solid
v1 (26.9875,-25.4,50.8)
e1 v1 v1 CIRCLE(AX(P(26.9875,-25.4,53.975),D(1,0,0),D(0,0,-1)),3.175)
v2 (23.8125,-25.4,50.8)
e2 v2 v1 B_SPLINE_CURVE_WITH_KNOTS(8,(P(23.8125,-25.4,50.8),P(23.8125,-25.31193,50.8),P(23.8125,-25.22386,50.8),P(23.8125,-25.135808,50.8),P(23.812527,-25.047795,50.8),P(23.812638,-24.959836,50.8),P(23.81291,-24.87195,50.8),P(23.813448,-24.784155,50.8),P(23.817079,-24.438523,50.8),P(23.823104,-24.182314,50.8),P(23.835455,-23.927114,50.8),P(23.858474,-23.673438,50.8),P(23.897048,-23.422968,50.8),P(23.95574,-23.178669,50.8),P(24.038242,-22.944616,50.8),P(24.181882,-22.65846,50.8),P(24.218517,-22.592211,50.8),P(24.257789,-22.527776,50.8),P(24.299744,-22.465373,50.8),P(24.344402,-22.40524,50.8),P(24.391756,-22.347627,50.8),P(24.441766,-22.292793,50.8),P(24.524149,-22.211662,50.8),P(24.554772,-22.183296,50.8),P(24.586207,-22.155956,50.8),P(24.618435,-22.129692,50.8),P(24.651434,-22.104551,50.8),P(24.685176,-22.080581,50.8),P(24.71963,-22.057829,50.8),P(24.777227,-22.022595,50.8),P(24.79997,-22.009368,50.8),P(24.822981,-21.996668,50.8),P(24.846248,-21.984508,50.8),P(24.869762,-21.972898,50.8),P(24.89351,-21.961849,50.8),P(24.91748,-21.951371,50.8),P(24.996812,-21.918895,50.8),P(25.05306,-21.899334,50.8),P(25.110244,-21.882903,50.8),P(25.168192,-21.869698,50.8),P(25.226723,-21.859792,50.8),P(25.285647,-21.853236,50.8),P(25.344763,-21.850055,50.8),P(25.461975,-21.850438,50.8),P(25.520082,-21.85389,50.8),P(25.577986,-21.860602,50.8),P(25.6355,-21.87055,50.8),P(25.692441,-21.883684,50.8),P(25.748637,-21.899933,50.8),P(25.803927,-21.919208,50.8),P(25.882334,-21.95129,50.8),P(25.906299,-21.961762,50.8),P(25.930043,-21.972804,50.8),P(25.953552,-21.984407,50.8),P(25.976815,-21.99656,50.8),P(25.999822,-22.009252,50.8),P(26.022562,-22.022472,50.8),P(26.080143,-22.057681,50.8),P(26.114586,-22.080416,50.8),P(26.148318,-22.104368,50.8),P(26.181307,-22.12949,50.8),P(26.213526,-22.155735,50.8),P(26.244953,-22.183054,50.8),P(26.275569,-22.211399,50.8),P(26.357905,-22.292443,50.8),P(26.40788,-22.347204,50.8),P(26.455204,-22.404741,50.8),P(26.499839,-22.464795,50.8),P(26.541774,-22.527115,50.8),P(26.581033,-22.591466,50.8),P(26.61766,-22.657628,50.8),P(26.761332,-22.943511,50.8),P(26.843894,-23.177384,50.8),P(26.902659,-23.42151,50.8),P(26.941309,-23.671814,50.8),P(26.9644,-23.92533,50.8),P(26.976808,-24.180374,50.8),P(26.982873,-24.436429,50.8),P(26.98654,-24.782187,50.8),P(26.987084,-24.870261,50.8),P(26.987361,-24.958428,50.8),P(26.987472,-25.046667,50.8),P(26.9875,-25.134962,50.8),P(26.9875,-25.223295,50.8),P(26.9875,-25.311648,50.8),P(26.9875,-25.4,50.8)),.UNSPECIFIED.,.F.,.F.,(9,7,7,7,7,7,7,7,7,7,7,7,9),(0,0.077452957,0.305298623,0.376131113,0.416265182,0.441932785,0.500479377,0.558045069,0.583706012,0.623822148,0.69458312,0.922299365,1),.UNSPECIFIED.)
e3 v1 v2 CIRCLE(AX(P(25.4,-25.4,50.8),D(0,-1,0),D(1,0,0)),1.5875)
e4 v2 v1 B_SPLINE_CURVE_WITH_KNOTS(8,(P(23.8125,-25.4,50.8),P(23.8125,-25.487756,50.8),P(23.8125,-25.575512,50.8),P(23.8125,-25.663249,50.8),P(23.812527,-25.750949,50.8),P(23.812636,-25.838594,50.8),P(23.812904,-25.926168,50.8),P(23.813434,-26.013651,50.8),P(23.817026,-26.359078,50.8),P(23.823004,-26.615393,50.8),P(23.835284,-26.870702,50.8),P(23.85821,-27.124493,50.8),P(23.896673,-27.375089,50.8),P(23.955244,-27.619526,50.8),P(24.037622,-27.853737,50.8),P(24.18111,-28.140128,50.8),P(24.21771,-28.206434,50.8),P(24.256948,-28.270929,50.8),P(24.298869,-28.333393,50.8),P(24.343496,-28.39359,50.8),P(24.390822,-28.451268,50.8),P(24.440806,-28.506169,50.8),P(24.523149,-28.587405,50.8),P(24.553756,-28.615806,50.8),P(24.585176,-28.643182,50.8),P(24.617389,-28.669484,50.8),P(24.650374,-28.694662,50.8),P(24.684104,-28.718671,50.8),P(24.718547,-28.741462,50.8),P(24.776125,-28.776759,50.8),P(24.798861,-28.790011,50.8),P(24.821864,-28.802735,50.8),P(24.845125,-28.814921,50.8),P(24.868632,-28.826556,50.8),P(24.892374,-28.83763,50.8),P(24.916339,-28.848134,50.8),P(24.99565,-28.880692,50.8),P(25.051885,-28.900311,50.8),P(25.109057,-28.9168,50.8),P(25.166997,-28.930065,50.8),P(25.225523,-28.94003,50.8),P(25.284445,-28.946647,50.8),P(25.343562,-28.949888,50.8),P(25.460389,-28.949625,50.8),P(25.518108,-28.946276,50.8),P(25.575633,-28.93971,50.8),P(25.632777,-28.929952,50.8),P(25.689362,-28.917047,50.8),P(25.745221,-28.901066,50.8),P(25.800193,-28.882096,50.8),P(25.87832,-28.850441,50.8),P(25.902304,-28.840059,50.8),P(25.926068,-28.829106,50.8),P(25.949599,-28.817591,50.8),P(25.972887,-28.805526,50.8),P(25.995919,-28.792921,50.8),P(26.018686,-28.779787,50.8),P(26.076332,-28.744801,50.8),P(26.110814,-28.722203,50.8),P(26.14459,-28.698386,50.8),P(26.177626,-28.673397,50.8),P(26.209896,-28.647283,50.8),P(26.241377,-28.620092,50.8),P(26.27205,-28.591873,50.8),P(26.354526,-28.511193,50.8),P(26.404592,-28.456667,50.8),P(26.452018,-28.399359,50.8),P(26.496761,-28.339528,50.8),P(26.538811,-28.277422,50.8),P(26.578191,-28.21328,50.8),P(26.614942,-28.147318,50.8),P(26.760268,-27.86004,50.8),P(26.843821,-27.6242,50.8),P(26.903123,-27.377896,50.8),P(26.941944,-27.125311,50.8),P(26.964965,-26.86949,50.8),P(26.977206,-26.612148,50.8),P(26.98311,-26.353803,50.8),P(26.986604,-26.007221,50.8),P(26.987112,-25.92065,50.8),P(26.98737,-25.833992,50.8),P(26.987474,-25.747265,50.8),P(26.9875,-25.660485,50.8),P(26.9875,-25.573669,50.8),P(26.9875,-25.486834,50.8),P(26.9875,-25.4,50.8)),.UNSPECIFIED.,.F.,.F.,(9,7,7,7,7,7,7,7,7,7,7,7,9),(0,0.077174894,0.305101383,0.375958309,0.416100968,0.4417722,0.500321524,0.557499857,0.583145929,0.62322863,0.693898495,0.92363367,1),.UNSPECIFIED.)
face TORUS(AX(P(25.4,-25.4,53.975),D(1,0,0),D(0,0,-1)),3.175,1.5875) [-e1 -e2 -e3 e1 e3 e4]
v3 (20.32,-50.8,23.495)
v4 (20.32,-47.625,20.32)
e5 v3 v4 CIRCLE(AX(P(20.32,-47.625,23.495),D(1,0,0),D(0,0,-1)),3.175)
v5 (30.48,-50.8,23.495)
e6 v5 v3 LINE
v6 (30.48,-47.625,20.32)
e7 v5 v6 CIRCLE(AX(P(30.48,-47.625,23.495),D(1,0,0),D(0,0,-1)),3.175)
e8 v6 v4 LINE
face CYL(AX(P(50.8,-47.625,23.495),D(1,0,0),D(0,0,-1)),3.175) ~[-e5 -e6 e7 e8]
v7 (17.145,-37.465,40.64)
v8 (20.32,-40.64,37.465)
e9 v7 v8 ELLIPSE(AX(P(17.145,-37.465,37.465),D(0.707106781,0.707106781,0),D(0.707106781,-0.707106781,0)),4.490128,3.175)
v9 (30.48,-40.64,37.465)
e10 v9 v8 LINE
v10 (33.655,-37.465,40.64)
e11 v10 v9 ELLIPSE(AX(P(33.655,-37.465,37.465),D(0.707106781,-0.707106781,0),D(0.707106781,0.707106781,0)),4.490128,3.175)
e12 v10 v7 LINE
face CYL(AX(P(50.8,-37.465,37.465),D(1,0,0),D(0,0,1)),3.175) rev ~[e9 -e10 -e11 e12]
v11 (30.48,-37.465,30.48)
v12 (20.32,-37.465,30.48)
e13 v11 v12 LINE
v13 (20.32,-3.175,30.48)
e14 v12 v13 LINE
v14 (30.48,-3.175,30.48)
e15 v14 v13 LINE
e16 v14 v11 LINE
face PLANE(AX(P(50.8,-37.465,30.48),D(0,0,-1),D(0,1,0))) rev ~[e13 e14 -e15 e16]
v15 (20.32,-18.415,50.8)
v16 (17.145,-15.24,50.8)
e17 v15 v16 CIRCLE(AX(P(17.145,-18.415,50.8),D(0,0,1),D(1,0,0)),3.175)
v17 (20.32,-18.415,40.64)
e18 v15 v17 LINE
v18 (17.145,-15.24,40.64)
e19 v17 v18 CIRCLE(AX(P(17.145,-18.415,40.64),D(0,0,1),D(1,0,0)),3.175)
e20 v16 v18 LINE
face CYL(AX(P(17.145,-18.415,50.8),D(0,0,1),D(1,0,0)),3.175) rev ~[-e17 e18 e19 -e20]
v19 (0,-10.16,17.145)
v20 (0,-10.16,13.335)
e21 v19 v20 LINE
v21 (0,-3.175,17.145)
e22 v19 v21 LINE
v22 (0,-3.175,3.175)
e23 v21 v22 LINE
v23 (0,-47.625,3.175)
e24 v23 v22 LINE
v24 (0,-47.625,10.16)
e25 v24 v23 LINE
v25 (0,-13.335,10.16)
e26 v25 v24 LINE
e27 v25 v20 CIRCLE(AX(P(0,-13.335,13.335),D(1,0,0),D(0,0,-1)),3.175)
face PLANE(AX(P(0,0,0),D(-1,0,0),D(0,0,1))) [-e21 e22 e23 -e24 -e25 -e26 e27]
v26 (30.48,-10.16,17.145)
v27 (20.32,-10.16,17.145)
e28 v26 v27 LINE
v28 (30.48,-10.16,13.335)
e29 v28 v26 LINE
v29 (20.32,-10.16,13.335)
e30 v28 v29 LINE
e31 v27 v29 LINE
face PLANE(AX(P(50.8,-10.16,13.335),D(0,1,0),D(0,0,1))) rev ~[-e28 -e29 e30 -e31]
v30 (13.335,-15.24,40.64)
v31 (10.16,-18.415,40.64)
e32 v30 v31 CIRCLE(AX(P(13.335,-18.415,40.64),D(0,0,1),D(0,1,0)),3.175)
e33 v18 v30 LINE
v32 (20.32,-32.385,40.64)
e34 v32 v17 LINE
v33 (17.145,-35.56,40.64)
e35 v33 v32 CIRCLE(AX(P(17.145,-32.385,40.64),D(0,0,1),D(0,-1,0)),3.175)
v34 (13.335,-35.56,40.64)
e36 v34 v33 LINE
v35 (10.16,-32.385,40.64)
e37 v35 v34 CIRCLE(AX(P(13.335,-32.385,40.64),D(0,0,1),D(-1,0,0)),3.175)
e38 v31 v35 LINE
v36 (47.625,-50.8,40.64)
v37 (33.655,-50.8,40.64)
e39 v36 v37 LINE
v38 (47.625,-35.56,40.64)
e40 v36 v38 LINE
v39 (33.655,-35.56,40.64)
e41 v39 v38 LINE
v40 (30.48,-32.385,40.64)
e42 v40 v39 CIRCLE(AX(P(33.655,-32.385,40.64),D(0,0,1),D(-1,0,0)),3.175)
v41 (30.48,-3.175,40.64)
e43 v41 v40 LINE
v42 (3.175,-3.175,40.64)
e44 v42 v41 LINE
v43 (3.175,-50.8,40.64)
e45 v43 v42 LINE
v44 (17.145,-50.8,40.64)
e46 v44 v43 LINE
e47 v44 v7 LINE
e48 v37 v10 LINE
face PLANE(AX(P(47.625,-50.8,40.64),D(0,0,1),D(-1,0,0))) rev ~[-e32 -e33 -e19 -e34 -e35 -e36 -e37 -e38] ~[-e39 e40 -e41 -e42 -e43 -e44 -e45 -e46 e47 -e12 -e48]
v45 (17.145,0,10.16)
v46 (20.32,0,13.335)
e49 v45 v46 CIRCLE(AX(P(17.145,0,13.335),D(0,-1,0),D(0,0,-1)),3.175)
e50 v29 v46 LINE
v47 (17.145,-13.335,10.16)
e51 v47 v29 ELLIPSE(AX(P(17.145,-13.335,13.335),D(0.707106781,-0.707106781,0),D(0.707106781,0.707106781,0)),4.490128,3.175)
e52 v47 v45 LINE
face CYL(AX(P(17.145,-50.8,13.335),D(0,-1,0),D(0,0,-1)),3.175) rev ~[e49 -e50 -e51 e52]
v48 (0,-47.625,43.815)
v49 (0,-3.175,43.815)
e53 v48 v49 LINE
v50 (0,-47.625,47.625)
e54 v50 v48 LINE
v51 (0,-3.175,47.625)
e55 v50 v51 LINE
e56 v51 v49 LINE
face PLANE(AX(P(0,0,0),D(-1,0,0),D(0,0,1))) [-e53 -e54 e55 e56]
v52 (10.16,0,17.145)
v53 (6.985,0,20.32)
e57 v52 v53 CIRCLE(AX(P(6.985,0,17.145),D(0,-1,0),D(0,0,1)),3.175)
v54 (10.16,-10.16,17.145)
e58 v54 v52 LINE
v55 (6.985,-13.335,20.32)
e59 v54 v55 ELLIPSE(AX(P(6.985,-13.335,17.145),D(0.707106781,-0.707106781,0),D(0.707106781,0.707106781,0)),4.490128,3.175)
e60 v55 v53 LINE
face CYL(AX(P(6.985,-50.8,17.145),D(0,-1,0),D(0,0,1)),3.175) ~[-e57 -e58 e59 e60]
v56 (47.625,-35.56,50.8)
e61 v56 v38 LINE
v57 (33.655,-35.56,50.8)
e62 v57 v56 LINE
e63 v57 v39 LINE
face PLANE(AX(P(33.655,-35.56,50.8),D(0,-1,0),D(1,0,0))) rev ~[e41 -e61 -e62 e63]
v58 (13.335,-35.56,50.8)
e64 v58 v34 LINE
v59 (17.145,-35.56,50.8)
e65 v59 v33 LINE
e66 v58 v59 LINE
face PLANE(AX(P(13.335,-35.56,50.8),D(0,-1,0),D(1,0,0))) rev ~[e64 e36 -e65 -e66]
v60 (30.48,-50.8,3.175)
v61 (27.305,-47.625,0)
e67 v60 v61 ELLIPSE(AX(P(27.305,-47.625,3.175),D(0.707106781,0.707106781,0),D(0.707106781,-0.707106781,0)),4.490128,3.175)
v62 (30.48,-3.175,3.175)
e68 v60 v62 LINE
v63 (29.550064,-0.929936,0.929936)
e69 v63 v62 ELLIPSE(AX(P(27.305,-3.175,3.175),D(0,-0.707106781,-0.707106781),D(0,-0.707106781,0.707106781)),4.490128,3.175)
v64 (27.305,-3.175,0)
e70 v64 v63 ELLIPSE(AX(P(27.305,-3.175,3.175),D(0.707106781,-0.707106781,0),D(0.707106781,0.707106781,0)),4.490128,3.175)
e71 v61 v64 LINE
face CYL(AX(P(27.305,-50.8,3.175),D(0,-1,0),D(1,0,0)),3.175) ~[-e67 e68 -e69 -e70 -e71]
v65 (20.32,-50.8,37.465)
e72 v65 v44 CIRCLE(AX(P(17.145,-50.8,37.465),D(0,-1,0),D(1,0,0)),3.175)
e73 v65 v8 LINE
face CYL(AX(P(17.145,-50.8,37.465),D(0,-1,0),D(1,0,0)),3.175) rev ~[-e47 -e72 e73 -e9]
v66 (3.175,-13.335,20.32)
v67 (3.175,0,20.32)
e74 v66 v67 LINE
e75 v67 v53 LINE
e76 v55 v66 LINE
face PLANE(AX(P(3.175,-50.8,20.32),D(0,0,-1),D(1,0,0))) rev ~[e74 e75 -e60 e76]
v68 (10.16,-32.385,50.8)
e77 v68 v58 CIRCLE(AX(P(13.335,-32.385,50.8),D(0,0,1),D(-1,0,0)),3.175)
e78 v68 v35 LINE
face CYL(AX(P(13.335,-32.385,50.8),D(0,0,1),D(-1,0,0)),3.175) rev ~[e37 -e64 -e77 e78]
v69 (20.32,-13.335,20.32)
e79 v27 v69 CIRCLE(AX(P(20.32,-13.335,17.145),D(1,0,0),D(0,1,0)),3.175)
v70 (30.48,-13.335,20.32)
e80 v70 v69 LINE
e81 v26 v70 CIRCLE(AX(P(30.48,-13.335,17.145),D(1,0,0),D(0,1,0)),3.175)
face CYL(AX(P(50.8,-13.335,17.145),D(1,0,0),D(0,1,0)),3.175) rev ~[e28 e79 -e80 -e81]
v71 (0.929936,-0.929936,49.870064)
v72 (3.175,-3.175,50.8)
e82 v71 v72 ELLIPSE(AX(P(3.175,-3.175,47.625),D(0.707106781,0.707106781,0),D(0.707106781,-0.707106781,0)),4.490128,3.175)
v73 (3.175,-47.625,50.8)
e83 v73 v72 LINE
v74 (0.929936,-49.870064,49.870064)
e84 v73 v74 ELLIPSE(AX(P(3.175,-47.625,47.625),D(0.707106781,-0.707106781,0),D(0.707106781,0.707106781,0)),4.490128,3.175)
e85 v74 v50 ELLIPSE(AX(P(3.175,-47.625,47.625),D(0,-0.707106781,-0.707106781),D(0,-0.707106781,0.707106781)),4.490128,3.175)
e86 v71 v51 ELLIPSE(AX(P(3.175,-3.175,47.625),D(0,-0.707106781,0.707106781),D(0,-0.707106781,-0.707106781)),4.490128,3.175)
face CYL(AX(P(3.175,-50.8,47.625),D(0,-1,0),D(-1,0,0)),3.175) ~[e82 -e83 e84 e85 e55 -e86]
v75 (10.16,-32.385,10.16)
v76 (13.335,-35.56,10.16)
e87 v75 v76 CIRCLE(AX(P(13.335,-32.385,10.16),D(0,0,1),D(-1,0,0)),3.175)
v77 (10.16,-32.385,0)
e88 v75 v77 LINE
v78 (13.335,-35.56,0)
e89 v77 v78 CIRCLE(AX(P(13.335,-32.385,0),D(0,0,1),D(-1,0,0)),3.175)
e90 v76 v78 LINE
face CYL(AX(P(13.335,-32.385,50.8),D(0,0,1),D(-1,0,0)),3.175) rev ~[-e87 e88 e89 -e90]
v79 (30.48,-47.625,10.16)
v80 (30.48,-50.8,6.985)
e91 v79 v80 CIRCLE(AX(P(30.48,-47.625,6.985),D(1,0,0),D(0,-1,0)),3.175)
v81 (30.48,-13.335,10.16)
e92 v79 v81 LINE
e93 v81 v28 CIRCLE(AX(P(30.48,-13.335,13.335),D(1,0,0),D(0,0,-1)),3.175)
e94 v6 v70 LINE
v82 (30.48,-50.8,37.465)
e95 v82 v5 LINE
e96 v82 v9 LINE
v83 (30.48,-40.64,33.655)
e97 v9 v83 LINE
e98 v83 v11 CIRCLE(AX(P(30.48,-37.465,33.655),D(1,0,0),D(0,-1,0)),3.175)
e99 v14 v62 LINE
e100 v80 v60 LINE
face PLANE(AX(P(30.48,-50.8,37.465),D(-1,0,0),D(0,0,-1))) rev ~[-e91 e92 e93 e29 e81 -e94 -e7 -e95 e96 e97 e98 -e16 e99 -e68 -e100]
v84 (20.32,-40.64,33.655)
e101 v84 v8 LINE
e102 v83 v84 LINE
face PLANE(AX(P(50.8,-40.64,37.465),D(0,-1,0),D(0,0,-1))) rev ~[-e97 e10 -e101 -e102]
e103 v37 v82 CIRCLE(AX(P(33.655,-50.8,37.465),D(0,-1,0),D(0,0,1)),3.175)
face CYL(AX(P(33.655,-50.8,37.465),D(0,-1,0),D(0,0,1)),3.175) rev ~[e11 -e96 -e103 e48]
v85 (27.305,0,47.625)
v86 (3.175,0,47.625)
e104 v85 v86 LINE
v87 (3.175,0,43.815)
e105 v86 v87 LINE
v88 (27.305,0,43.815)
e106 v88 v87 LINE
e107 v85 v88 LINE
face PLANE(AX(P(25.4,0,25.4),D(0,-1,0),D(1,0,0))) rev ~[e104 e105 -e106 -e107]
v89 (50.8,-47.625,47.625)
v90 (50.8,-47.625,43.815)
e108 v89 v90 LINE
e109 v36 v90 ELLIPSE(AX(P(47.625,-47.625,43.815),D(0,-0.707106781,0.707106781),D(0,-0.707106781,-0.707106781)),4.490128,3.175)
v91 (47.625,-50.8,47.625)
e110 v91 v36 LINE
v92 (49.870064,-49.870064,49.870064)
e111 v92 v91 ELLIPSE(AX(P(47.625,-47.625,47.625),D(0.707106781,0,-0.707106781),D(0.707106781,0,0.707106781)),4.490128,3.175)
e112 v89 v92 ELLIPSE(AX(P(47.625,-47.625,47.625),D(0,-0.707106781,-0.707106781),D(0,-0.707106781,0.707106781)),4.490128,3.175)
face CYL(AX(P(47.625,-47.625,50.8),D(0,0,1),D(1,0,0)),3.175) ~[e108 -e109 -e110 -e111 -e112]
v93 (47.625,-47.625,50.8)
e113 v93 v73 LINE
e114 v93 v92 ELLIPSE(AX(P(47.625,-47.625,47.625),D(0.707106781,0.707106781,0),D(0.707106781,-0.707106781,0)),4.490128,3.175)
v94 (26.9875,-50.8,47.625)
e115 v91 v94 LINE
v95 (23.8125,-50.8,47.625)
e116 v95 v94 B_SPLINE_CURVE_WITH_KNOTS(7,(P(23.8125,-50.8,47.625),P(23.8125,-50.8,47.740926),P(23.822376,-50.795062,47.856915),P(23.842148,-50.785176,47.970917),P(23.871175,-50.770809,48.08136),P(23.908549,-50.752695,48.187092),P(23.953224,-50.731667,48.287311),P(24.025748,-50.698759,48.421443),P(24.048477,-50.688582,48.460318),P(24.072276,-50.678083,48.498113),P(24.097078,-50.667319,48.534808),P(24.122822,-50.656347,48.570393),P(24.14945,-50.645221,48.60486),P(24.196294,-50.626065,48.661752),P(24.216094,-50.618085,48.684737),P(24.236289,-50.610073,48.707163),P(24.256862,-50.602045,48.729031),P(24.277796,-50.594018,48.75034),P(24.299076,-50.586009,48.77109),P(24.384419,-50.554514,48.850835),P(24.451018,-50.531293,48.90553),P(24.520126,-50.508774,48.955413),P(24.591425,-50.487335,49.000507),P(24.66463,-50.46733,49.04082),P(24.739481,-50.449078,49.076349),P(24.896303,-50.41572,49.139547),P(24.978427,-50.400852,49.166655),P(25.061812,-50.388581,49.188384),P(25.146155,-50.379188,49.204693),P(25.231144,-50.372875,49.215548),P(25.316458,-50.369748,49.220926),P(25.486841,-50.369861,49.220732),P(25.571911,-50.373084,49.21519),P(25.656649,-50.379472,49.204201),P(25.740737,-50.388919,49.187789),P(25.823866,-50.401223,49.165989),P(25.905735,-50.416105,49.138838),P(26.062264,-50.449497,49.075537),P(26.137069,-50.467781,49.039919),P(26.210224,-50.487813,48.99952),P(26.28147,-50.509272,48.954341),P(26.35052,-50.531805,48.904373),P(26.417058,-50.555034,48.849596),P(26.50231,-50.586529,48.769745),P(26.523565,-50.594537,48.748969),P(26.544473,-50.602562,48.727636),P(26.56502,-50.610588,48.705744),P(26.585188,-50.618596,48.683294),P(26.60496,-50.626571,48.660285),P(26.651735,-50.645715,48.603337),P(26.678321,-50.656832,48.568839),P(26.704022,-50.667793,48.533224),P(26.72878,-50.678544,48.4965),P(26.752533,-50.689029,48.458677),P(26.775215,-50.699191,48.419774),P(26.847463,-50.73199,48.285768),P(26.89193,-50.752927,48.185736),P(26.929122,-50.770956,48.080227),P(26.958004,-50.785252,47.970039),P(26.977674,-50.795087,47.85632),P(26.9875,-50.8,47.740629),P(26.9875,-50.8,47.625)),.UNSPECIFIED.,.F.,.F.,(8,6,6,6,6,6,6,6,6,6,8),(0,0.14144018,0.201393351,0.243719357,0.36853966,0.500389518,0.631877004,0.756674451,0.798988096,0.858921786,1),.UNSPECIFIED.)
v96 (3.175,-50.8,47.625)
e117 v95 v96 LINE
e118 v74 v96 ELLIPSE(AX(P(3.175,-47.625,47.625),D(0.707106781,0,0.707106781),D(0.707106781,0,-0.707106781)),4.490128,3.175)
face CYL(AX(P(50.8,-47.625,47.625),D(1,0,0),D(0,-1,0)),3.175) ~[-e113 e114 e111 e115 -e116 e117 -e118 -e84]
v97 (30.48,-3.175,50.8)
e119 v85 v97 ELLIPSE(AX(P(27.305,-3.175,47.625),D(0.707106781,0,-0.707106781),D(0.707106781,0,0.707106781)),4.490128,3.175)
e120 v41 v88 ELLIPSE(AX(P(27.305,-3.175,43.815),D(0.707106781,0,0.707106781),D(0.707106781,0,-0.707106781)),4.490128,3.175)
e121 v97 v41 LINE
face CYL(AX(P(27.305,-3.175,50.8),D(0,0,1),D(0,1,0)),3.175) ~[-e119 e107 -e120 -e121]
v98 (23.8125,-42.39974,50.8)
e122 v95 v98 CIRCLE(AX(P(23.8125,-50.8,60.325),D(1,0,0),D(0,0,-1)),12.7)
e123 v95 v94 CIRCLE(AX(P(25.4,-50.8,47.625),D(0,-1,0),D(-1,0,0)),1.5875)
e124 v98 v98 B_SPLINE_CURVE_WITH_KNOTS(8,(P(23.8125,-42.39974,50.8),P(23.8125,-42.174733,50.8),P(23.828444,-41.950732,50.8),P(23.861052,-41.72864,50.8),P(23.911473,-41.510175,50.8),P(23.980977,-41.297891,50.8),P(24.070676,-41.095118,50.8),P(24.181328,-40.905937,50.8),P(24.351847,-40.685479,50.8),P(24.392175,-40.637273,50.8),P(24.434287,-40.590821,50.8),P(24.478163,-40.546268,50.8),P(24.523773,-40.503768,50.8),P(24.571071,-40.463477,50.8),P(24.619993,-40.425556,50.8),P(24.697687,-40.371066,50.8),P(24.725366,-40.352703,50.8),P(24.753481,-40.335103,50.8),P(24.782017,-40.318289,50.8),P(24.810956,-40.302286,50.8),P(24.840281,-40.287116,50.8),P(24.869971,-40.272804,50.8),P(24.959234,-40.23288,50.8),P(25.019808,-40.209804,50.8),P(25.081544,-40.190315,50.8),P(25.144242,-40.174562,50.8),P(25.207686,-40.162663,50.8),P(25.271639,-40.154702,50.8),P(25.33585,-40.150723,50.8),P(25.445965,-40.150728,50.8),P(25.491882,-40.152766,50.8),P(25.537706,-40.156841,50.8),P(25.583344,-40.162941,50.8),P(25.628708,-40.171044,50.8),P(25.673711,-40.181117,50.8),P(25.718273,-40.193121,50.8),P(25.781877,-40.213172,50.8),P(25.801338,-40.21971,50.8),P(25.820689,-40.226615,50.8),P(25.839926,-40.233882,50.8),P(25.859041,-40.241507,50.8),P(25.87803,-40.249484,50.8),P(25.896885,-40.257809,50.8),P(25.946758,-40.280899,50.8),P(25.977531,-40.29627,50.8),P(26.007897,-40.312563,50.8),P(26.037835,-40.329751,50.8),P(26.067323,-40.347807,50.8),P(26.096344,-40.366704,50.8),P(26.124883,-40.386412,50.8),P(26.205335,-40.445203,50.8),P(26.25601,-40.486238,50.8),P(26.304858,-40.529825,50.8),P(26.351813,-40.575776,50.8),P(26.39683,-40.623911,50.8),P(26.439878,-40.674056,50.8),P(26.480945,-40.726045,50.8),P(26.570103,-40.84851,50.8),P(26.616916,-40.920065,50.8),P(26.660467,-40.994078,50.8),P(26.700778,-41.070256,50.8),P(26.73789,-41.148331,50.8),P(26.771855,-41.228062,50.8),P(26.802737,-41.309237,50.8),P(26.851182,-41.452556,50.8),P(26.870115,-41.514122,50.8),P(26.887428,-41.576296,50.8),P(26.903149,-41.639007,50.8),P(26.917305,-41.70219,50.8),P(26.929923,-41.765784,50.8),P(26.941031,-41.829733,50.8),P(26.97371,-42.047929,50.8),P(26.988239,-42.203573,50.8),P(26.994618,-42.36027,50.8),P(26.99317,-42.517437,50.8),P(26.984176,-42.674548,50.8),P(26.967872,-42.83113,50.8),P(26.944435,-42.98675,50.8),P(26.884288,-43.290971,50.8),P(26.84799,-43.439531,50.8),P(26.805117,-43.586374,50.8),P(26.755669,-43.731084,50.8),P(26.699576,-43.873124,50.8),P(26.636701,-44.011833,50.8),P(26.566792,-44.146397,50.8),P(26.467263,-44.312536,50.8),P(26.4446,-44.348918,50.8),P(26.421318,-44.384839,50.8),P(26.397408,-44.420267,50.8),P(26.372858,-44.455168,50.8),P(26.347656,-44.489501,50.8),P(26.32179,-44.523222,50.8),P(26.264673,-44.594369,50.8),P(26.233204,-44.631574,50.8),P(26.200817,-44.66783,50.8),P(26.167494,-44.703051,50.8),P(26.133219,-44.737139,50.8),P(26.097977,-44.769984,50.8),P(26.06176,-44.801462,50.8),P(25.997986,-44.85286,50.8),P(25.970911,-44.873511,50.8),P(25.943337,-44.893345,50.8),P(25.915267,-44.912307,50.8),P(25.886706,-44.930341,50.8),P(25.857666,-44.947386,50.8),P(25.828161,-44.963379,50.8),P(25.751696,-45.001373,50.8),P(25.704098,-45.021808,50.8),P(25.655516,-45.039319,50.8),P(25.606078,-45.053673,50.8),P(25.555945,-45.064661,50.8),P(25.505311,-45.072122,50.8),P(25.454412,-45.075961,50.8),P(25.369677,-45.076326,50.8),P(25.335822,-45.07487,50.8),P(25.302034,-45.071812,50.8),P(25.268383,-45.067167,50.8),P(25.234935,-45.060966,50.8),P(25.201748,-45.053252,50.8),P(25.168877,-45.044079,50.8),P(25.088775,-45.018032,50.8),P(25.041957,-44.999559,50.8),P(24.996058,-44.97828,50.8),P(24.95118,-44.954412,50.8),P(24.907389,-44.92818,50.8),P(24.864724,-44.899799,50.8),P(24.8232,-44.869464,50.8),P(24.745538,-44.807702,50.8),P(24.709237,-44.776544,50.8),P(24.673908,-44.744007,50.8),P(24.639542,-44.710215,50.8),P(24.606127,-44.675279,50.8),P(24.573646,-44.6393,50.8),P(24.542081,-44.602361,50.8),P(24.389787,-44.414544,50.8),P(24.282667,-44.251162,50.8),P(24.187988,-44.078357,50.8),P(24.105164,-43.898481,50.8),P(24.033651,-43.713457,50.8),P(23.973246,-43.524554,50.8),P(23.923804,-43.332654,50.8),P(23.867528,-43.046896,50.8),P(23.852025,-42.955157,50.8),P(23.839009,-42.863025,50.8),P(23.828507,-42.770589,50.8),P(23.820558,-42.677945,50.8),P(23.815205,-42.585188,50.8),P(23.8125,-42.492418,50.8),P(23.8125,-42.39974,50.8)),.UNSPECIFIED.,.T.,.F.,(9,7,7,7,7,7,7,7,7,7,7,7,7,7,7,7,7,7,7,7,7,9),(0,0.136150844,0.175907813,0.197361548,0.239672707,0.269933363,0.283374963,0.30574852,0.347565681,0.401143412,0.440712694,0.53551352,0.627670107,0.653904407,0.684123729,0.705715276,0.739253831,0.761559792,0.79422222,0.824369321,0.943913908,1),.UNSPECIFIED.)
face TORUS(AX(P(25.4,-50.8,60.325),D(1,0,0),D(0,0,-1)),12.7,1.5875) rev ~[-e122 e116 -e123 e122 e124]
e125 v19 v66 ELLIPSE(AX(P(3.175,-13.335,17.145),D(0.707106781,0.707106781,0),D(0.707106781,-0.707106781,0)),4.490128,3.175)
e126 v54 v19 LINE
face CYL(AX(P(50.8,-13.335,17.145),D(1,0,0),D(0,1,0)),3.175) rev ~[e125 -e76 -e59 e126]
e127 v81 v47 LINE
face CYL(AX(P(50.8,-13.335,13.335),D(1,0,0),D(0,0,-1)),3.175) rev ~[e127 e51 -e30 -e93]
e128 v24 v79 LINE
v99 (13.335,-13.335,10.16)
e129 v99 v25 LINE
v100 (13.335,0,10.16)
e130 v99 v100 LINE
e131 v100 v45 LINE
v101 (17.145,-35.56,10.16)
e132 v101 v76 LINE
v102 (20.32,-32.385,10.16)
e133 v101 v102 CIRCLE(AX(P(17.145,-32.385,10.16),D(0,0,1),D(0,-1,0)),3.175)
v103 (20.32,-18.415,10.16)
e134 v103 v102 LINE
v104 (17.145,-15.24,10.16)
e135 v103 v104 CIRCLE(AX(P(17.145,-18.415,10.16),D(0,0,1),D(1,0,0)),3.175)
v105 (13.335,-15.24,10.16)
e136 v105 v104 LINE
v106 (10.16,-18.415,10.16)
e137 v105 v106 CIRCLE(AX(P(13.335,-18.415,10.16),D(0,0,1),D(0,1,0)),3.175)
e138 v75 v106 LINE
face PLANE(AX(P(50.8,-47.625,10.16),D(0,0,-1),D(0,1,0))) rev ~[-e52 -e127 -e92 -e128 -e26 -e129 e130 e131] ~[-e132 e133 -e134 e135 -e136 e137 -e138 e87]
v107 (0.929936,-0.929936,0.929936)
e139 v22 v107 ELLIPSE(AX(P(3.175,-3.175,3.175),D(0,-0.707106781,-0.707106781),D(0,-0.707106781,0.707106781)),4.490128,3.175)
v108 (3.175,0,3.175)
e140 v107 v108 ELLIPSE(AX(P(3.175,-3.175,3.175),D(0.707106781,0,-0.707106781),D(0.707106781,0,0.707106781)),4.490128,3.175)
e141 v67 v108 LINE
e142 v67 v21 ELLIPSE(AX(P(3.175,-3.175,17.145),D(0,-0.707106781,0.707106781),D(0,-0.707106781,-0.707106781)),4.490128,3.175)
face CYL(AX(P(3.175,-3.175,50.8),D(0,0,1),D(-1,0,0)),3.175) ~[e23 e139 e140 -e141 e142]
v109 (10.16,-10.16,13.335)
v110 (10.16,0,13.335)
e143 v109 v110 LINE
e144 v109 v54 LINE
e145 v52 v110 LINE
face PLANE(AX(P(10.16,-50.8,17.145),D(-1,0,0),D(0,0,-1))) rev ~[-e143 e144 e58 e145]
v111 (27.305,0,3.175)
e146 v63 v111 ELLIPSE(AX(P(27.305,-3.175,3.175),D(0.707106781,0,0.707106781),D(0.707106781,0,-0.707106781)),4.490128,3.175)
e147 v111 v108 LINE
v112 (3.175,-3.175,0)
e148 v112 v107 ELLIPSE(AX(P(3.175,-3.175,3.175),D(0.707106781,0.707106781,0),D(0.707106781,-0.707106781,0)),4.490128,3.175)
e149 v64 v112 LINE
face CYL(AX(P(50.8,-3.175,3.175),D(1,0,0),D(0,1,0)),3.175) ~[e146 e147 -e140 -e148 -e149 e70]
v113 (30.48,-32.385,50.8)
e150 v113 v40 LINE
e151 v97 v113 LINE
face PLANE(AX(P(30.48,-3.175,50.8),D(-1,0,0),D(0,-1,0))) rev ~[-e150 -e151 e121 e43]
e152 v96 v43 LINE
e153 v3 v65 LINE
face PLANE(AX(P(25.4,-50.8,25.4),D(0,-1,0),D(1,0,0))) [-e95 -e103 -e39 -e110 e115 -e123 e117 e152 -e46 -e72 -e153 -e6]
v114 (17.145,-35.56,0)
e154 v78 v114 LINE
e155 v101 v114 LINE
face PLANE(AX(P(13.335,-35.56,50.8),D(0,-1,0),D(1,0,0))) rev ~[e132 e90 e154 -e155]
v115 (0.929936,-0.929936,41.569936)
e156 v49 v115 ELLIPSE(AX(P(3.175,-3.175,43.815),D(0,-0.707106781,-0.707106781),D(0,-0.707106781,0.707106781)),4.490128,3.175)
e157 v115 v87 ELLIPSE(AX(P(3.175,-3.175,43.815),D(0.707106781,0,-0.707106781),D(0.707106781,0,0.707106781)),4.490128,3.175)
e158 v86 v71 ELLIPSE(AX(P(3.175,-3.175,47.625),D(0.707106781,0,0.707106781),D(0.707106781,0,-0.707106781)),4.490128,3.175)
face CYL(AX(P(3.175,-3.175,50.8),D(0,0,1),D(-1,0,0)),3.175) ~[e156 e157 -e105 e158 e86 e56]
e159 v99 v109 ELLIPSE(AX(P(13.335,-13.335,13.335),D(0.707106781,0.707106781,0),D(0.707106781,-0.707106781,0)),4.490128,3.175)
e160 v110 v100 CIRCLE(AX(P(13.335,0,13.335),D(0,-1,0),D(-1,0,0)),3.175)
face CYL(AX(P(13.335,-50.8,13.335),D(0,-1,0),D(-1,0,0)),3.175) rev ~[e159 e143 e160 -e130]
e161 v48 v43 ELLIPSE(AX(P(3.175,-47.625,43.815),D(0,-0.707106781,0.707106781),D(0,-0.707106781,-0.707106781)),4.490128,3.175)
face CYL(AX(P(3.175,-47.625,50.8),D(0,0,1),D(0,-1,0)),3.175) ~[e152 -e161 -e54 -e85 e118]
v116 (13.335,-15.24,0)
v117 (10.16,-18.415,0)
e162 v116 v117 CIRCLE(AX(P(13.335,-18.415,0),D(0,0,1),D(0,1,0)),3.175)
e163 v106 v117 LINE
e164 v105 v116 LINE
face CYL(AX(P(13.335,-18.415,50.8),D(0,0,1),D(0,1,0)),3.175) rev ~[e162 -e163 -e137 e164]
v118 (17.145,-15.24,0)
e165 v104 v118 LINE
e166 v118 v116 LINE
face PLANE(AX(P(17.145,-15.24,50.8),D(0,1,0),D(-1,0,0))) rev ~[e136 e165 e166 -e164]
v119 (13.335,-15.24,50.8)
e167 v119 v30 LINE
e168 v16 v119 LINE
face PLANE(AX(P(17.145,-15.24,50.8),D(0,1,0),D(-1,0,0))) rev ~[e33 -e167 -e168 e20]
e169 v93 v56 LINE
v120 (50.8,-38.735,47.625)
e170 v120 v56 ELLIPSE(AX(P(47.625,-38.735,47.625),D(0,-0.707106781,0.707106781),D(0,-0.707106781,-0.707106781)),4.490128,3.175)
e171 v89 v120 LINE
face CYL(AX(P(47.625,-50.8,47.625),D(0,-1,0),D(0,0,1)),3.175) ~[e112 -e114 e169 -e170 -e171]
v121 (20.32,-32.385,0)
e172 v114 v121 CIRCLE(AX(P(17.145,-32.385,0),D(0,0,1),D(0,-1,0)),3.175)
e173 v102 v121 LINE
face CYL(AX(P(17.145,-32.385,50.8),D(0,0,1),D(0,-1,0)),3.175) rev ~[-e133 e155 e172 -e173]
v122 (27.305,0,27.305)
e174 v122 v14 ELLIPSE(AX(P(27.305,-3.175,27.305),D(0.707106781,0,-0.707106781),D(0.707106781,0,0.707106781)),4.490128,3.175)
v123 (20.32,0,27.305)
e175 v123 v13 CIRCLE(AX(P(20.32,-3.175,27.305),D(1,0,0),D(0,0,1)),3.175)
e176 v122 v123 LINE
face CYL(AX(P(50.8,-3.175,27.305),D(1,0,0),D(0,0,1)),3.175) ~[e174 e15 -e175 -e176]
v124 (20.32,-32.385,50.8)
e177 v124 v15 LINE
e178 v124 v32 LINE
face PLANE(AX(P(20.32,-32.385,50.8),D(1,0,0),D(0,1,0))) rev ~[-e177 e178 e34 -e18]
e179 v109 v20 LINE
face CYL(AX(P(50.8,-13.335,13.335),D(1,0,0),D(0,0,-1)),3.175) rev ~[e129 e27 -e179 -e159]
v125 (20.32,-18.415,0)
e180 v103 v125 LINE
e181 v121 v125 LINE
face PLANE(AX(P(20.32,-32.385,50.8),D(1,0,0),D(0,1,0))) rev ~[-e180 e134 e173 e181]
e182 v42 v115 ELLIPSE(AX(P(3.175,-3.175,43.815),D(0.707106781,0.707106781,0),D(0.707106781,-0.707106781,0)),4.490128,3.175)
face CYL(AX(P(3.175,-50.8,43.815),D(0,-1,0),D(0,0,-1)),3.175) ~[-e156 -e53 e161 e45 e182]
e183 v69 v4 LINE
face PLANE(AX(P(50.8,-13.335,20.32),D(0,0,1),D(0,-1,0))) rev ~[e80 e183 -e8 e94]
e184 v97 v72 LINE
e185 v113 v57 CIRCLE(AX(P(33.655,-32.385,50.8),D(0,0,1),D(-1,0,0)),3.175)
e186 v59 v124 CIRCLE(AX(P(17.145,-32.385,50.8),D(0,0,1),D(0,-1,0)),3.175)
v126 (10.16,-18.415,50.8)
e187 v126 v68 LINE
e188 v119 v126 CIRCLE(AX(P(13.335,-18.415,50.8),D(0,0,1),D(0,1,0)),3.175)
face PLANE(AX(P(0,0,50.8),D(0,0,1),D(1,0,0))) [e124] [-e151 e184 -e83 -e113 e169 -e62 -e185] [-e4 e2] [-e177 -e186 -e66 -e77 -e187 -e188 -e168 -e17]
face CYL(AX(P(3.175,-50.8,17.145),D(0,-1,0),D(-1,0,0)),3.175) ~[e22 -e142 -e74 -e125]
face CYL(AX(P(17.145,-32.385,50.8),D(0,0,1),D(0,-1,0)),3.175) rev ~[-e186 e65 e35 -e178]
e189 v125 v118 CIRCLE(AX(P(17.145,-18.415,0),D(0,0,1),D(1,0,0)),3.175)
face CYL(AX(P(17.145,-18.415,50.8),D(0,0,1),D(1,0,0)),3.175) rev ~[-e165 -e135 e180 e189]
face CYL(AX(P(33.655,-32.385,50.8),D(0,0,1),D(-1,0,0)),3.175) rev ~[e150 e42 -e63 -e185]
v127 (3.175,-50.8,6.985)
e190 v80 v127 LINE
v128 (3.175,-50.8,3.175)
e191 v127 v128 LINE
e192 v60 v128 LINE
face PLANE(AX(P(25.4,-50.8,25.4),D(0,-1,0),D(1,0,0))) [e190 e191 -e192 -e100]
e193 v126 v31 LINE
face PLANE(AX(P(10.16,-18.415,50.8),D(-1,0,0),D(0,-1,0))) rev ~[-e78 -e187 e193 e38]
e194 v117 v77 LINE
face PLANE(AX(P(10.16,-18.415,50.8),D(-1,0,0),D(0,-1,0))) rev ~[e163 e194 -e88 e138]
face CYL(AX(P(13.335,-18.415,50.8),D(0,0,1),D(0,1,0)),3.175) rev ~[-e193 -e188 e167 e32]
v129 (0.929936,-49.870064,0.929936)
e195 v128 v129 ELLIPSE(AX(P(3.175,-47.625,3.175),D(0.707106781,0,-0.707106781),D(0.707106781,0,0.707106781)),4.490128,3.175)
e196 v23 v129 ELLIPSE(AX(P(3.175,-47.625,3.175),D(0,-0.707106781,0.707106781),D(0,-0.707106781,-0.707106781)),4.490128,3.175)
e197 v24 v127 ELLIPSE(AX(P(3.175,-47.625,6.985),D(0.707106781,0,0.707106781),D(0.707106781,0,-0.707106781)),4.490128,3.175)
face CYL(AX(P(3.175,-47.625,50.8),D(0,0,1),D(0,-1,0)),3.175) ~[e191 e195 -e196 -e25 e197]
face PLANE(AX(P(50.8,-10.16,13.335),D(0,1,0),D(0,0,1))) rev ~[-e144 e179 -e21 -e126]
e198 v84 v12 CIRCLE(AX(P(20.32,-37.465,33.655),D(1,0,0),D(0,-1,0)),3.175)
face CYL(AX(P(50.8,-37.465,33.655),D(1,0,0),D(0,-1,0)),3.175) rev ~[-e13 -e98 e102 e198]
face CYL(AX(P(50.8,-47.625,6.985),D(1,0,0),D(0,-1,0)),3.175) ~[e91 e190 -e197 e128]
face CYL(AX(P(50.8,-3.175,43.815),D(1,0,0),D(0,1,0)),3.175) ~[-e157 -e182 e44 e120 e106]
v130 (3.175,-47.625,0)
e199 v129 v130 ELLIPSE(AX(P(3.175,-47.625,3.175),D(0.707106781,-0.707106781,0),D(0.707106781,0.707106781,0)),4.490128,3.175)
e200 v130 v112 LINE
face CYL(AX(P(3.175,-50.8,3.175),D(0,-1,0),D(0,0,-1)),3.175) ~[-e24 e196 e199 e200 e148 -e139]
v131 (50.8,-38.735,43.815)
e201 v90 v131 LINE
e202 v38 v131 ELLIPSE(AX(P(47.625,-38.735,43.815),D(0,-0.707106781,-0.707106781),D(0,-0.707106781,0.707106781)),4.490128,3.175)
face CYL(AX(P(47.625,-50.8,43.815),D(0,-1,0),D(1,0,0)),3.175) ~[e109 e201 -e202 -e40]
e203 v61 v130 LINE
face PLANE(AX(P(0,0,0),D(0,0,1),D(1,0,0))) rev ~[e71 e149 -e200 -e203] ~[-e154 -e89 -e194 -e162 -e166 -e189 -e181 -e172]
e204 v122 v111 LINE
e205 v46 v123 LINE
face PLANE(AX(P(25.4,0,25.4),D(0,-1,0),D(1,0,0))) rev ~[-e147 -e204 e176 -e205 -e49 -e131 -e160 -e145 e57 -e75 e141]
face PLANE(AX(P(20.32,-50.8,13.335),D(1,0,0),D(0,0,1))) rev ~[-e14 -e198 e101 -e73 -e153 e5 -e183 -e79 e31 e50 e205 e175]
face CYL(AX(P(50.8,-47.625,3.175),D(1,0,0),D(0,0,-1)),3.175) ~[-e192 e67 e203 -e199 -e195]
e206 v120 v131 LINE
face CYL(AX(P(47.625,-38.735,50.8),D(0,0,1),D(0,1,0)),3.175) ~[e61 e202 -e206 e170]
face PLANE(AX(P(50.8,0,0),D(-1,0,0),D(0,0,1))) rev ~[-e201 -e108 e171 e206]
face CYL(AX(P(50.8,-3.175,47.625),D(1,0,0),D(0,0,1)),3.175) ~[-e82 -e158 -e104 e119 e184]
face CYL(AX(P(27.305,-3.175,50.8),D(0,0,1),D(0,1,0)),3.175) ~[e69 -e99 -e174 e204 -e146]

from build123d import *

# Parameters (mm, degrees)
F0_W     = 50.8
F0_H     = 50.8
F1_DEPTH = 50.8
F3_DEPTH = 50.801
F7_DEPTH = 50.801
F9_DEPTH = 50.801
F11_R    = 1.5875


with BuildPart() as f1:
    # F0 (on Front) → F1 (new body)
    with BuildSketch(Plane.XZ):
        with Locations((25.4, 25.4)):
            Rectangle(F0_W, F0_H)
    extrude(amount=F1_DEPTH)

    # F2 (on face) → F3 (cut, through all)
    with BuildSketch(Plane.YZ.offset(50.8)):
        with BuildLine():
            Line((0, 27.305), (0, 43.815))
            ThreePointArc((0, 43.815), (-0.9299359697, 41.5699359697), (-3.175, 40.64))
            Line((-3.175, 40.64), (-37.465, 40.64))
            ThreePointArc((-37.465, 40.64), (-39.7100640303, 39.7100640303), (-40.64, 37.465))
            Line((-40.64, 37.465), (-40.64, 33.655))
            ThreePointArc((-40.64, 33.655), (-39.7100640303, 31.4099359697), (-37.465, 30.48))
            Line((-37.465, 30.48), (-3.175, 30.48))
            ThreePointArc((-3.175, 30.48), (-0.9299359697, 29.5500640303), (0, 27.305))
        make_face()
        with BuildLine():
            ThreePointArc((-47.625, 20.32), (-49.8700640303, 21.2499359697), (-50.8, 23.495))
            Line((-50.8, 23.495), (-50.8, 6.985))
            ThreePointArc((-50.8, 6.985), (-49.8700640303, 9.2300640303), (-47.625, 10.16))
            Line((-47.625, 10.16), (-13.335, 10.16))
            ThreePointArc((-13.335, 10.16), (-11.0899359697, 11.0899359697), (-10.16, 13.335))
            Line((-10.16, 13.335), (-10.16, 17.145))
            ThreePointArc((-10.16, 17.145), (-11.0899359697, 19.3900640303), (-13.335, 20.32))
            Line((-13.335, 20.32), (-47.625, 20.32))
        make_face()
        with BuildLine():
            Line((0, 50.8), (-3.175, 50.8))
            ThreePointArc((-3.175, 50.8), (-0.9299359697, 49.8700640303), (0, 47.625))
            Line((0, 47.625), (0, 50.8))
        make_face()
        with BuildLine():
            ThreePointArc((-50.8, 47.625), (-49.8700640303, 49.8700640303), (-47.625, 50.8))
            Line((-47.625, 50.8), (-50.8, 50.8))
            Line((-50.8, 50.8), (-50.8, 47.625))
        make_face()
        with BuildLine():
            Line((0, 0), (0, 3.175))
            ThreePointArc((0, 3.175), (-0.9299359697, 0.9299359697), (-3.175, 0))
            Line((-3.175, 0), (0, 0))
        make_face()
        with BuildLine():
            ThreePointArc((-47.625, 0), (-49.8700640303, 0.9299359697), (-50.8, 3.175))
            Line((-50.8, 3.175), (-50.8, 0))
            Line((-50.8, 0), (-47.625, 0))
        make_face()
    extrude(amount=-F3_DEPTH, mode=Mode.SUBTRACT)

    # F6 (on offset) → F7 (cut, through all)
    with BuildSketch(Plane.XZ.offset(50.8)):
        with BuildLine():
            ThreePointArc((3.175, 40.64), (0.9299359697, 41.5699359697), (0, 43.815))
            Line((0, 43.815), (0, 17.145))
            ThreePointArc((0, 17.145), (0.9299359697, 19.3900640303), (3.175, 20.32))
            Line((3.175, 20.32), (6.985, 20.32))
            ThreePointArc((6.985, 20.32), (9.2300640303, 19.3900640303), (10.16, 17.145))
            Line((10.16, 17.145), (10.16, 13.335))
            ThreePointArc((10.16, 13.335), (11.0899359697, 11.0899359697), (13.335, 10.16))
            Line((13.335, 10.16), (17.145, 10.16))
            ThreePointArc((17.145, 10.16), (19.3900640303, 11.0899359697), (20.32, 13.335))
            Line((20.32, 13.335), (20.32, 37.465))
            ThreePointArc((20.32, 37.465), (19.3900640303, 39.7100640303), (17.145, 40.64))
            Line((17.145, 40.64), (3.175, 40.64))
        make_face()
        with BuildLine():
            Line((50.8, 50.8), (47.625, 50.8))
            ThreePointArc((47.625, 50.8), (49.8700640303, 49.8700640303), (50.8, 47.625))
            Line((50.8, 47.625), (50.8, 50.8))
        make_face()
        with BuildLine():
            Line((50.8, 0), (50.8, 43.815))
            ThreePointArc((50.8, 43.815), (49.8700640303, 41.5699359697), (47.625, 40.64))
            Line((47.625, 40.64), (33.655, 40.64))
            ThreePointArc((33.655, 40.64), (31.4099359697, 39.7100640303), (30.48, 37.465))
            Line((30.48, 37.465), (30.48, 3.175))
            ThreePointArc((30.48, 3.175), (29.5500640303, 0.9299359697), (27.305, 0))
            Line((27.305, 0), (50.8, 0))
        make_face()
        with BuildLine():
            ThreePointArc((3.175, 0), (0.9299359697, 0.9299359697), (0, 3.175))
            Line((0, 3.175), (0, 0))
            Line((0, 0), (3.175, 0))
        make_face()
        with BuildLine():
            Line((0, 50.8), (0, 47.625))
            ThreePointArc((0, 47.625), (0.9299359697, 49.8700640303), (3.175, 50.8))
            Line((3.175, 50.8), (0, 50.8))
        make_face()
    extrude(amount=-F7_DEPTH, mode=Mode.SUBTRACT)

    # F8 (on offset) → F9 (cut, through all)
    with BuildSketch(Plane.XY.offset(50.8)):
        with BuildLine():
            ThreePointArc((3.175, -50.8), (0.9299359697, -49.8700640303), (0, -47.625))
            Line((0, -47.625), (0, -50.8))
            Line((0, -50.8), (3.175, -50.8))
        make_face()
        with BuildLine():
            Line((0, 0), (0, -3.175))
            ThreePointArc((0, -3.175), (0.9299359697, -0.9299359697), (3.175, 0))
            Line((3.175, 0), (0, 0))
        make_face()
        with BuildLine():
            ThreePointArc((50.8, -47.625), (49.8700640303, -49.8700640303), (47.625, -50.8))
            Line((47.625, -50.8), (50.8, -50.8))
            Line((50.8, -50.8), (50.8, -47.625))
        make_face()
        with BuildLine():
            ThreePointArc((17.145, -35.56), (19.3900640303, -34.6300640303), (20.32, -32.385))
            Line((20.32, -32.385), (20.32, -18.415))
            ThreePointArc((20.32, -18.415), (19.3900640303, -16.1699359697), (17.145, -15.24))
            Line((17.145, -15.24), (13.335, -15.24))
            ThreePointArc((13.335, -15.24), (11.0899359697, -16.1699359697), (10.16, -18.415))
            Line((10.16, -18.415), (10.16, -32.385))
            ThreePointArc((10.16, -32.385), (11.0899359697, -34.6300640303), (13.335, -35.56))
            Line((13.335, -35.56), (17.145, -35.56))
        make_face()
        with BuildLine():
            Line((50.8, 0), (27.305, 0))
            ThreePointArc((27.305, 0), (29.5500640303, -0.9299359697), (30.48, -3.175))
            Line((30.48, -3.175), (30.48, -32.385))
            ThreePointArc((30.48, -32.385), (31.4099359697, -34.6300640303), (33.655, -35.56))
            Line((33.655, -35.56), (47.625, -35.56))
            ThreePointArc((47.625, -35.56), (49.8700640303, -36.4899359697), (50.8, -38.735))
            Line((50.8, -38.735), (50.8, 0))
        make_face()
    extrude(amount=-F9_DEPTH, mode=Mode.SUBTRACT)

    # F11 (on offset) → F12 (revolve)
    with BuildSketch(Plane.XZ.offset(25.4)):
        with Locations((25.4, 50.8)):
            Circle(F11_R)
    revolve(axis=Axis((30.3972233087, -25.4, 53.975), (1, 0, 0)))

    # F13 (on face) → F14 (revolve, cut)
    with BuildSketch(Plane.XZ.offset(50.8)):
        with BuildLine():
            Line((23.8125, 47.625), (26.9875, 47.625))
            ThreePointArc((26.9875, 47.625), (25.4, 49.2125), (23.8125, 47.625))
        make_face()
        with BuildLine():
            ThreePointArc((23.8125, 47.625), (25.4, 46.0375), (26.9875, 47.625))
            Line((26.9875, 47.625), (23.8125, 47.625))
        make_face()
    revolve(axis=Axis((27.5035649538, -50.8, 60.325), (1, 0, 0)), mode=Mode.SUBTRACT)


solid = f1.part
